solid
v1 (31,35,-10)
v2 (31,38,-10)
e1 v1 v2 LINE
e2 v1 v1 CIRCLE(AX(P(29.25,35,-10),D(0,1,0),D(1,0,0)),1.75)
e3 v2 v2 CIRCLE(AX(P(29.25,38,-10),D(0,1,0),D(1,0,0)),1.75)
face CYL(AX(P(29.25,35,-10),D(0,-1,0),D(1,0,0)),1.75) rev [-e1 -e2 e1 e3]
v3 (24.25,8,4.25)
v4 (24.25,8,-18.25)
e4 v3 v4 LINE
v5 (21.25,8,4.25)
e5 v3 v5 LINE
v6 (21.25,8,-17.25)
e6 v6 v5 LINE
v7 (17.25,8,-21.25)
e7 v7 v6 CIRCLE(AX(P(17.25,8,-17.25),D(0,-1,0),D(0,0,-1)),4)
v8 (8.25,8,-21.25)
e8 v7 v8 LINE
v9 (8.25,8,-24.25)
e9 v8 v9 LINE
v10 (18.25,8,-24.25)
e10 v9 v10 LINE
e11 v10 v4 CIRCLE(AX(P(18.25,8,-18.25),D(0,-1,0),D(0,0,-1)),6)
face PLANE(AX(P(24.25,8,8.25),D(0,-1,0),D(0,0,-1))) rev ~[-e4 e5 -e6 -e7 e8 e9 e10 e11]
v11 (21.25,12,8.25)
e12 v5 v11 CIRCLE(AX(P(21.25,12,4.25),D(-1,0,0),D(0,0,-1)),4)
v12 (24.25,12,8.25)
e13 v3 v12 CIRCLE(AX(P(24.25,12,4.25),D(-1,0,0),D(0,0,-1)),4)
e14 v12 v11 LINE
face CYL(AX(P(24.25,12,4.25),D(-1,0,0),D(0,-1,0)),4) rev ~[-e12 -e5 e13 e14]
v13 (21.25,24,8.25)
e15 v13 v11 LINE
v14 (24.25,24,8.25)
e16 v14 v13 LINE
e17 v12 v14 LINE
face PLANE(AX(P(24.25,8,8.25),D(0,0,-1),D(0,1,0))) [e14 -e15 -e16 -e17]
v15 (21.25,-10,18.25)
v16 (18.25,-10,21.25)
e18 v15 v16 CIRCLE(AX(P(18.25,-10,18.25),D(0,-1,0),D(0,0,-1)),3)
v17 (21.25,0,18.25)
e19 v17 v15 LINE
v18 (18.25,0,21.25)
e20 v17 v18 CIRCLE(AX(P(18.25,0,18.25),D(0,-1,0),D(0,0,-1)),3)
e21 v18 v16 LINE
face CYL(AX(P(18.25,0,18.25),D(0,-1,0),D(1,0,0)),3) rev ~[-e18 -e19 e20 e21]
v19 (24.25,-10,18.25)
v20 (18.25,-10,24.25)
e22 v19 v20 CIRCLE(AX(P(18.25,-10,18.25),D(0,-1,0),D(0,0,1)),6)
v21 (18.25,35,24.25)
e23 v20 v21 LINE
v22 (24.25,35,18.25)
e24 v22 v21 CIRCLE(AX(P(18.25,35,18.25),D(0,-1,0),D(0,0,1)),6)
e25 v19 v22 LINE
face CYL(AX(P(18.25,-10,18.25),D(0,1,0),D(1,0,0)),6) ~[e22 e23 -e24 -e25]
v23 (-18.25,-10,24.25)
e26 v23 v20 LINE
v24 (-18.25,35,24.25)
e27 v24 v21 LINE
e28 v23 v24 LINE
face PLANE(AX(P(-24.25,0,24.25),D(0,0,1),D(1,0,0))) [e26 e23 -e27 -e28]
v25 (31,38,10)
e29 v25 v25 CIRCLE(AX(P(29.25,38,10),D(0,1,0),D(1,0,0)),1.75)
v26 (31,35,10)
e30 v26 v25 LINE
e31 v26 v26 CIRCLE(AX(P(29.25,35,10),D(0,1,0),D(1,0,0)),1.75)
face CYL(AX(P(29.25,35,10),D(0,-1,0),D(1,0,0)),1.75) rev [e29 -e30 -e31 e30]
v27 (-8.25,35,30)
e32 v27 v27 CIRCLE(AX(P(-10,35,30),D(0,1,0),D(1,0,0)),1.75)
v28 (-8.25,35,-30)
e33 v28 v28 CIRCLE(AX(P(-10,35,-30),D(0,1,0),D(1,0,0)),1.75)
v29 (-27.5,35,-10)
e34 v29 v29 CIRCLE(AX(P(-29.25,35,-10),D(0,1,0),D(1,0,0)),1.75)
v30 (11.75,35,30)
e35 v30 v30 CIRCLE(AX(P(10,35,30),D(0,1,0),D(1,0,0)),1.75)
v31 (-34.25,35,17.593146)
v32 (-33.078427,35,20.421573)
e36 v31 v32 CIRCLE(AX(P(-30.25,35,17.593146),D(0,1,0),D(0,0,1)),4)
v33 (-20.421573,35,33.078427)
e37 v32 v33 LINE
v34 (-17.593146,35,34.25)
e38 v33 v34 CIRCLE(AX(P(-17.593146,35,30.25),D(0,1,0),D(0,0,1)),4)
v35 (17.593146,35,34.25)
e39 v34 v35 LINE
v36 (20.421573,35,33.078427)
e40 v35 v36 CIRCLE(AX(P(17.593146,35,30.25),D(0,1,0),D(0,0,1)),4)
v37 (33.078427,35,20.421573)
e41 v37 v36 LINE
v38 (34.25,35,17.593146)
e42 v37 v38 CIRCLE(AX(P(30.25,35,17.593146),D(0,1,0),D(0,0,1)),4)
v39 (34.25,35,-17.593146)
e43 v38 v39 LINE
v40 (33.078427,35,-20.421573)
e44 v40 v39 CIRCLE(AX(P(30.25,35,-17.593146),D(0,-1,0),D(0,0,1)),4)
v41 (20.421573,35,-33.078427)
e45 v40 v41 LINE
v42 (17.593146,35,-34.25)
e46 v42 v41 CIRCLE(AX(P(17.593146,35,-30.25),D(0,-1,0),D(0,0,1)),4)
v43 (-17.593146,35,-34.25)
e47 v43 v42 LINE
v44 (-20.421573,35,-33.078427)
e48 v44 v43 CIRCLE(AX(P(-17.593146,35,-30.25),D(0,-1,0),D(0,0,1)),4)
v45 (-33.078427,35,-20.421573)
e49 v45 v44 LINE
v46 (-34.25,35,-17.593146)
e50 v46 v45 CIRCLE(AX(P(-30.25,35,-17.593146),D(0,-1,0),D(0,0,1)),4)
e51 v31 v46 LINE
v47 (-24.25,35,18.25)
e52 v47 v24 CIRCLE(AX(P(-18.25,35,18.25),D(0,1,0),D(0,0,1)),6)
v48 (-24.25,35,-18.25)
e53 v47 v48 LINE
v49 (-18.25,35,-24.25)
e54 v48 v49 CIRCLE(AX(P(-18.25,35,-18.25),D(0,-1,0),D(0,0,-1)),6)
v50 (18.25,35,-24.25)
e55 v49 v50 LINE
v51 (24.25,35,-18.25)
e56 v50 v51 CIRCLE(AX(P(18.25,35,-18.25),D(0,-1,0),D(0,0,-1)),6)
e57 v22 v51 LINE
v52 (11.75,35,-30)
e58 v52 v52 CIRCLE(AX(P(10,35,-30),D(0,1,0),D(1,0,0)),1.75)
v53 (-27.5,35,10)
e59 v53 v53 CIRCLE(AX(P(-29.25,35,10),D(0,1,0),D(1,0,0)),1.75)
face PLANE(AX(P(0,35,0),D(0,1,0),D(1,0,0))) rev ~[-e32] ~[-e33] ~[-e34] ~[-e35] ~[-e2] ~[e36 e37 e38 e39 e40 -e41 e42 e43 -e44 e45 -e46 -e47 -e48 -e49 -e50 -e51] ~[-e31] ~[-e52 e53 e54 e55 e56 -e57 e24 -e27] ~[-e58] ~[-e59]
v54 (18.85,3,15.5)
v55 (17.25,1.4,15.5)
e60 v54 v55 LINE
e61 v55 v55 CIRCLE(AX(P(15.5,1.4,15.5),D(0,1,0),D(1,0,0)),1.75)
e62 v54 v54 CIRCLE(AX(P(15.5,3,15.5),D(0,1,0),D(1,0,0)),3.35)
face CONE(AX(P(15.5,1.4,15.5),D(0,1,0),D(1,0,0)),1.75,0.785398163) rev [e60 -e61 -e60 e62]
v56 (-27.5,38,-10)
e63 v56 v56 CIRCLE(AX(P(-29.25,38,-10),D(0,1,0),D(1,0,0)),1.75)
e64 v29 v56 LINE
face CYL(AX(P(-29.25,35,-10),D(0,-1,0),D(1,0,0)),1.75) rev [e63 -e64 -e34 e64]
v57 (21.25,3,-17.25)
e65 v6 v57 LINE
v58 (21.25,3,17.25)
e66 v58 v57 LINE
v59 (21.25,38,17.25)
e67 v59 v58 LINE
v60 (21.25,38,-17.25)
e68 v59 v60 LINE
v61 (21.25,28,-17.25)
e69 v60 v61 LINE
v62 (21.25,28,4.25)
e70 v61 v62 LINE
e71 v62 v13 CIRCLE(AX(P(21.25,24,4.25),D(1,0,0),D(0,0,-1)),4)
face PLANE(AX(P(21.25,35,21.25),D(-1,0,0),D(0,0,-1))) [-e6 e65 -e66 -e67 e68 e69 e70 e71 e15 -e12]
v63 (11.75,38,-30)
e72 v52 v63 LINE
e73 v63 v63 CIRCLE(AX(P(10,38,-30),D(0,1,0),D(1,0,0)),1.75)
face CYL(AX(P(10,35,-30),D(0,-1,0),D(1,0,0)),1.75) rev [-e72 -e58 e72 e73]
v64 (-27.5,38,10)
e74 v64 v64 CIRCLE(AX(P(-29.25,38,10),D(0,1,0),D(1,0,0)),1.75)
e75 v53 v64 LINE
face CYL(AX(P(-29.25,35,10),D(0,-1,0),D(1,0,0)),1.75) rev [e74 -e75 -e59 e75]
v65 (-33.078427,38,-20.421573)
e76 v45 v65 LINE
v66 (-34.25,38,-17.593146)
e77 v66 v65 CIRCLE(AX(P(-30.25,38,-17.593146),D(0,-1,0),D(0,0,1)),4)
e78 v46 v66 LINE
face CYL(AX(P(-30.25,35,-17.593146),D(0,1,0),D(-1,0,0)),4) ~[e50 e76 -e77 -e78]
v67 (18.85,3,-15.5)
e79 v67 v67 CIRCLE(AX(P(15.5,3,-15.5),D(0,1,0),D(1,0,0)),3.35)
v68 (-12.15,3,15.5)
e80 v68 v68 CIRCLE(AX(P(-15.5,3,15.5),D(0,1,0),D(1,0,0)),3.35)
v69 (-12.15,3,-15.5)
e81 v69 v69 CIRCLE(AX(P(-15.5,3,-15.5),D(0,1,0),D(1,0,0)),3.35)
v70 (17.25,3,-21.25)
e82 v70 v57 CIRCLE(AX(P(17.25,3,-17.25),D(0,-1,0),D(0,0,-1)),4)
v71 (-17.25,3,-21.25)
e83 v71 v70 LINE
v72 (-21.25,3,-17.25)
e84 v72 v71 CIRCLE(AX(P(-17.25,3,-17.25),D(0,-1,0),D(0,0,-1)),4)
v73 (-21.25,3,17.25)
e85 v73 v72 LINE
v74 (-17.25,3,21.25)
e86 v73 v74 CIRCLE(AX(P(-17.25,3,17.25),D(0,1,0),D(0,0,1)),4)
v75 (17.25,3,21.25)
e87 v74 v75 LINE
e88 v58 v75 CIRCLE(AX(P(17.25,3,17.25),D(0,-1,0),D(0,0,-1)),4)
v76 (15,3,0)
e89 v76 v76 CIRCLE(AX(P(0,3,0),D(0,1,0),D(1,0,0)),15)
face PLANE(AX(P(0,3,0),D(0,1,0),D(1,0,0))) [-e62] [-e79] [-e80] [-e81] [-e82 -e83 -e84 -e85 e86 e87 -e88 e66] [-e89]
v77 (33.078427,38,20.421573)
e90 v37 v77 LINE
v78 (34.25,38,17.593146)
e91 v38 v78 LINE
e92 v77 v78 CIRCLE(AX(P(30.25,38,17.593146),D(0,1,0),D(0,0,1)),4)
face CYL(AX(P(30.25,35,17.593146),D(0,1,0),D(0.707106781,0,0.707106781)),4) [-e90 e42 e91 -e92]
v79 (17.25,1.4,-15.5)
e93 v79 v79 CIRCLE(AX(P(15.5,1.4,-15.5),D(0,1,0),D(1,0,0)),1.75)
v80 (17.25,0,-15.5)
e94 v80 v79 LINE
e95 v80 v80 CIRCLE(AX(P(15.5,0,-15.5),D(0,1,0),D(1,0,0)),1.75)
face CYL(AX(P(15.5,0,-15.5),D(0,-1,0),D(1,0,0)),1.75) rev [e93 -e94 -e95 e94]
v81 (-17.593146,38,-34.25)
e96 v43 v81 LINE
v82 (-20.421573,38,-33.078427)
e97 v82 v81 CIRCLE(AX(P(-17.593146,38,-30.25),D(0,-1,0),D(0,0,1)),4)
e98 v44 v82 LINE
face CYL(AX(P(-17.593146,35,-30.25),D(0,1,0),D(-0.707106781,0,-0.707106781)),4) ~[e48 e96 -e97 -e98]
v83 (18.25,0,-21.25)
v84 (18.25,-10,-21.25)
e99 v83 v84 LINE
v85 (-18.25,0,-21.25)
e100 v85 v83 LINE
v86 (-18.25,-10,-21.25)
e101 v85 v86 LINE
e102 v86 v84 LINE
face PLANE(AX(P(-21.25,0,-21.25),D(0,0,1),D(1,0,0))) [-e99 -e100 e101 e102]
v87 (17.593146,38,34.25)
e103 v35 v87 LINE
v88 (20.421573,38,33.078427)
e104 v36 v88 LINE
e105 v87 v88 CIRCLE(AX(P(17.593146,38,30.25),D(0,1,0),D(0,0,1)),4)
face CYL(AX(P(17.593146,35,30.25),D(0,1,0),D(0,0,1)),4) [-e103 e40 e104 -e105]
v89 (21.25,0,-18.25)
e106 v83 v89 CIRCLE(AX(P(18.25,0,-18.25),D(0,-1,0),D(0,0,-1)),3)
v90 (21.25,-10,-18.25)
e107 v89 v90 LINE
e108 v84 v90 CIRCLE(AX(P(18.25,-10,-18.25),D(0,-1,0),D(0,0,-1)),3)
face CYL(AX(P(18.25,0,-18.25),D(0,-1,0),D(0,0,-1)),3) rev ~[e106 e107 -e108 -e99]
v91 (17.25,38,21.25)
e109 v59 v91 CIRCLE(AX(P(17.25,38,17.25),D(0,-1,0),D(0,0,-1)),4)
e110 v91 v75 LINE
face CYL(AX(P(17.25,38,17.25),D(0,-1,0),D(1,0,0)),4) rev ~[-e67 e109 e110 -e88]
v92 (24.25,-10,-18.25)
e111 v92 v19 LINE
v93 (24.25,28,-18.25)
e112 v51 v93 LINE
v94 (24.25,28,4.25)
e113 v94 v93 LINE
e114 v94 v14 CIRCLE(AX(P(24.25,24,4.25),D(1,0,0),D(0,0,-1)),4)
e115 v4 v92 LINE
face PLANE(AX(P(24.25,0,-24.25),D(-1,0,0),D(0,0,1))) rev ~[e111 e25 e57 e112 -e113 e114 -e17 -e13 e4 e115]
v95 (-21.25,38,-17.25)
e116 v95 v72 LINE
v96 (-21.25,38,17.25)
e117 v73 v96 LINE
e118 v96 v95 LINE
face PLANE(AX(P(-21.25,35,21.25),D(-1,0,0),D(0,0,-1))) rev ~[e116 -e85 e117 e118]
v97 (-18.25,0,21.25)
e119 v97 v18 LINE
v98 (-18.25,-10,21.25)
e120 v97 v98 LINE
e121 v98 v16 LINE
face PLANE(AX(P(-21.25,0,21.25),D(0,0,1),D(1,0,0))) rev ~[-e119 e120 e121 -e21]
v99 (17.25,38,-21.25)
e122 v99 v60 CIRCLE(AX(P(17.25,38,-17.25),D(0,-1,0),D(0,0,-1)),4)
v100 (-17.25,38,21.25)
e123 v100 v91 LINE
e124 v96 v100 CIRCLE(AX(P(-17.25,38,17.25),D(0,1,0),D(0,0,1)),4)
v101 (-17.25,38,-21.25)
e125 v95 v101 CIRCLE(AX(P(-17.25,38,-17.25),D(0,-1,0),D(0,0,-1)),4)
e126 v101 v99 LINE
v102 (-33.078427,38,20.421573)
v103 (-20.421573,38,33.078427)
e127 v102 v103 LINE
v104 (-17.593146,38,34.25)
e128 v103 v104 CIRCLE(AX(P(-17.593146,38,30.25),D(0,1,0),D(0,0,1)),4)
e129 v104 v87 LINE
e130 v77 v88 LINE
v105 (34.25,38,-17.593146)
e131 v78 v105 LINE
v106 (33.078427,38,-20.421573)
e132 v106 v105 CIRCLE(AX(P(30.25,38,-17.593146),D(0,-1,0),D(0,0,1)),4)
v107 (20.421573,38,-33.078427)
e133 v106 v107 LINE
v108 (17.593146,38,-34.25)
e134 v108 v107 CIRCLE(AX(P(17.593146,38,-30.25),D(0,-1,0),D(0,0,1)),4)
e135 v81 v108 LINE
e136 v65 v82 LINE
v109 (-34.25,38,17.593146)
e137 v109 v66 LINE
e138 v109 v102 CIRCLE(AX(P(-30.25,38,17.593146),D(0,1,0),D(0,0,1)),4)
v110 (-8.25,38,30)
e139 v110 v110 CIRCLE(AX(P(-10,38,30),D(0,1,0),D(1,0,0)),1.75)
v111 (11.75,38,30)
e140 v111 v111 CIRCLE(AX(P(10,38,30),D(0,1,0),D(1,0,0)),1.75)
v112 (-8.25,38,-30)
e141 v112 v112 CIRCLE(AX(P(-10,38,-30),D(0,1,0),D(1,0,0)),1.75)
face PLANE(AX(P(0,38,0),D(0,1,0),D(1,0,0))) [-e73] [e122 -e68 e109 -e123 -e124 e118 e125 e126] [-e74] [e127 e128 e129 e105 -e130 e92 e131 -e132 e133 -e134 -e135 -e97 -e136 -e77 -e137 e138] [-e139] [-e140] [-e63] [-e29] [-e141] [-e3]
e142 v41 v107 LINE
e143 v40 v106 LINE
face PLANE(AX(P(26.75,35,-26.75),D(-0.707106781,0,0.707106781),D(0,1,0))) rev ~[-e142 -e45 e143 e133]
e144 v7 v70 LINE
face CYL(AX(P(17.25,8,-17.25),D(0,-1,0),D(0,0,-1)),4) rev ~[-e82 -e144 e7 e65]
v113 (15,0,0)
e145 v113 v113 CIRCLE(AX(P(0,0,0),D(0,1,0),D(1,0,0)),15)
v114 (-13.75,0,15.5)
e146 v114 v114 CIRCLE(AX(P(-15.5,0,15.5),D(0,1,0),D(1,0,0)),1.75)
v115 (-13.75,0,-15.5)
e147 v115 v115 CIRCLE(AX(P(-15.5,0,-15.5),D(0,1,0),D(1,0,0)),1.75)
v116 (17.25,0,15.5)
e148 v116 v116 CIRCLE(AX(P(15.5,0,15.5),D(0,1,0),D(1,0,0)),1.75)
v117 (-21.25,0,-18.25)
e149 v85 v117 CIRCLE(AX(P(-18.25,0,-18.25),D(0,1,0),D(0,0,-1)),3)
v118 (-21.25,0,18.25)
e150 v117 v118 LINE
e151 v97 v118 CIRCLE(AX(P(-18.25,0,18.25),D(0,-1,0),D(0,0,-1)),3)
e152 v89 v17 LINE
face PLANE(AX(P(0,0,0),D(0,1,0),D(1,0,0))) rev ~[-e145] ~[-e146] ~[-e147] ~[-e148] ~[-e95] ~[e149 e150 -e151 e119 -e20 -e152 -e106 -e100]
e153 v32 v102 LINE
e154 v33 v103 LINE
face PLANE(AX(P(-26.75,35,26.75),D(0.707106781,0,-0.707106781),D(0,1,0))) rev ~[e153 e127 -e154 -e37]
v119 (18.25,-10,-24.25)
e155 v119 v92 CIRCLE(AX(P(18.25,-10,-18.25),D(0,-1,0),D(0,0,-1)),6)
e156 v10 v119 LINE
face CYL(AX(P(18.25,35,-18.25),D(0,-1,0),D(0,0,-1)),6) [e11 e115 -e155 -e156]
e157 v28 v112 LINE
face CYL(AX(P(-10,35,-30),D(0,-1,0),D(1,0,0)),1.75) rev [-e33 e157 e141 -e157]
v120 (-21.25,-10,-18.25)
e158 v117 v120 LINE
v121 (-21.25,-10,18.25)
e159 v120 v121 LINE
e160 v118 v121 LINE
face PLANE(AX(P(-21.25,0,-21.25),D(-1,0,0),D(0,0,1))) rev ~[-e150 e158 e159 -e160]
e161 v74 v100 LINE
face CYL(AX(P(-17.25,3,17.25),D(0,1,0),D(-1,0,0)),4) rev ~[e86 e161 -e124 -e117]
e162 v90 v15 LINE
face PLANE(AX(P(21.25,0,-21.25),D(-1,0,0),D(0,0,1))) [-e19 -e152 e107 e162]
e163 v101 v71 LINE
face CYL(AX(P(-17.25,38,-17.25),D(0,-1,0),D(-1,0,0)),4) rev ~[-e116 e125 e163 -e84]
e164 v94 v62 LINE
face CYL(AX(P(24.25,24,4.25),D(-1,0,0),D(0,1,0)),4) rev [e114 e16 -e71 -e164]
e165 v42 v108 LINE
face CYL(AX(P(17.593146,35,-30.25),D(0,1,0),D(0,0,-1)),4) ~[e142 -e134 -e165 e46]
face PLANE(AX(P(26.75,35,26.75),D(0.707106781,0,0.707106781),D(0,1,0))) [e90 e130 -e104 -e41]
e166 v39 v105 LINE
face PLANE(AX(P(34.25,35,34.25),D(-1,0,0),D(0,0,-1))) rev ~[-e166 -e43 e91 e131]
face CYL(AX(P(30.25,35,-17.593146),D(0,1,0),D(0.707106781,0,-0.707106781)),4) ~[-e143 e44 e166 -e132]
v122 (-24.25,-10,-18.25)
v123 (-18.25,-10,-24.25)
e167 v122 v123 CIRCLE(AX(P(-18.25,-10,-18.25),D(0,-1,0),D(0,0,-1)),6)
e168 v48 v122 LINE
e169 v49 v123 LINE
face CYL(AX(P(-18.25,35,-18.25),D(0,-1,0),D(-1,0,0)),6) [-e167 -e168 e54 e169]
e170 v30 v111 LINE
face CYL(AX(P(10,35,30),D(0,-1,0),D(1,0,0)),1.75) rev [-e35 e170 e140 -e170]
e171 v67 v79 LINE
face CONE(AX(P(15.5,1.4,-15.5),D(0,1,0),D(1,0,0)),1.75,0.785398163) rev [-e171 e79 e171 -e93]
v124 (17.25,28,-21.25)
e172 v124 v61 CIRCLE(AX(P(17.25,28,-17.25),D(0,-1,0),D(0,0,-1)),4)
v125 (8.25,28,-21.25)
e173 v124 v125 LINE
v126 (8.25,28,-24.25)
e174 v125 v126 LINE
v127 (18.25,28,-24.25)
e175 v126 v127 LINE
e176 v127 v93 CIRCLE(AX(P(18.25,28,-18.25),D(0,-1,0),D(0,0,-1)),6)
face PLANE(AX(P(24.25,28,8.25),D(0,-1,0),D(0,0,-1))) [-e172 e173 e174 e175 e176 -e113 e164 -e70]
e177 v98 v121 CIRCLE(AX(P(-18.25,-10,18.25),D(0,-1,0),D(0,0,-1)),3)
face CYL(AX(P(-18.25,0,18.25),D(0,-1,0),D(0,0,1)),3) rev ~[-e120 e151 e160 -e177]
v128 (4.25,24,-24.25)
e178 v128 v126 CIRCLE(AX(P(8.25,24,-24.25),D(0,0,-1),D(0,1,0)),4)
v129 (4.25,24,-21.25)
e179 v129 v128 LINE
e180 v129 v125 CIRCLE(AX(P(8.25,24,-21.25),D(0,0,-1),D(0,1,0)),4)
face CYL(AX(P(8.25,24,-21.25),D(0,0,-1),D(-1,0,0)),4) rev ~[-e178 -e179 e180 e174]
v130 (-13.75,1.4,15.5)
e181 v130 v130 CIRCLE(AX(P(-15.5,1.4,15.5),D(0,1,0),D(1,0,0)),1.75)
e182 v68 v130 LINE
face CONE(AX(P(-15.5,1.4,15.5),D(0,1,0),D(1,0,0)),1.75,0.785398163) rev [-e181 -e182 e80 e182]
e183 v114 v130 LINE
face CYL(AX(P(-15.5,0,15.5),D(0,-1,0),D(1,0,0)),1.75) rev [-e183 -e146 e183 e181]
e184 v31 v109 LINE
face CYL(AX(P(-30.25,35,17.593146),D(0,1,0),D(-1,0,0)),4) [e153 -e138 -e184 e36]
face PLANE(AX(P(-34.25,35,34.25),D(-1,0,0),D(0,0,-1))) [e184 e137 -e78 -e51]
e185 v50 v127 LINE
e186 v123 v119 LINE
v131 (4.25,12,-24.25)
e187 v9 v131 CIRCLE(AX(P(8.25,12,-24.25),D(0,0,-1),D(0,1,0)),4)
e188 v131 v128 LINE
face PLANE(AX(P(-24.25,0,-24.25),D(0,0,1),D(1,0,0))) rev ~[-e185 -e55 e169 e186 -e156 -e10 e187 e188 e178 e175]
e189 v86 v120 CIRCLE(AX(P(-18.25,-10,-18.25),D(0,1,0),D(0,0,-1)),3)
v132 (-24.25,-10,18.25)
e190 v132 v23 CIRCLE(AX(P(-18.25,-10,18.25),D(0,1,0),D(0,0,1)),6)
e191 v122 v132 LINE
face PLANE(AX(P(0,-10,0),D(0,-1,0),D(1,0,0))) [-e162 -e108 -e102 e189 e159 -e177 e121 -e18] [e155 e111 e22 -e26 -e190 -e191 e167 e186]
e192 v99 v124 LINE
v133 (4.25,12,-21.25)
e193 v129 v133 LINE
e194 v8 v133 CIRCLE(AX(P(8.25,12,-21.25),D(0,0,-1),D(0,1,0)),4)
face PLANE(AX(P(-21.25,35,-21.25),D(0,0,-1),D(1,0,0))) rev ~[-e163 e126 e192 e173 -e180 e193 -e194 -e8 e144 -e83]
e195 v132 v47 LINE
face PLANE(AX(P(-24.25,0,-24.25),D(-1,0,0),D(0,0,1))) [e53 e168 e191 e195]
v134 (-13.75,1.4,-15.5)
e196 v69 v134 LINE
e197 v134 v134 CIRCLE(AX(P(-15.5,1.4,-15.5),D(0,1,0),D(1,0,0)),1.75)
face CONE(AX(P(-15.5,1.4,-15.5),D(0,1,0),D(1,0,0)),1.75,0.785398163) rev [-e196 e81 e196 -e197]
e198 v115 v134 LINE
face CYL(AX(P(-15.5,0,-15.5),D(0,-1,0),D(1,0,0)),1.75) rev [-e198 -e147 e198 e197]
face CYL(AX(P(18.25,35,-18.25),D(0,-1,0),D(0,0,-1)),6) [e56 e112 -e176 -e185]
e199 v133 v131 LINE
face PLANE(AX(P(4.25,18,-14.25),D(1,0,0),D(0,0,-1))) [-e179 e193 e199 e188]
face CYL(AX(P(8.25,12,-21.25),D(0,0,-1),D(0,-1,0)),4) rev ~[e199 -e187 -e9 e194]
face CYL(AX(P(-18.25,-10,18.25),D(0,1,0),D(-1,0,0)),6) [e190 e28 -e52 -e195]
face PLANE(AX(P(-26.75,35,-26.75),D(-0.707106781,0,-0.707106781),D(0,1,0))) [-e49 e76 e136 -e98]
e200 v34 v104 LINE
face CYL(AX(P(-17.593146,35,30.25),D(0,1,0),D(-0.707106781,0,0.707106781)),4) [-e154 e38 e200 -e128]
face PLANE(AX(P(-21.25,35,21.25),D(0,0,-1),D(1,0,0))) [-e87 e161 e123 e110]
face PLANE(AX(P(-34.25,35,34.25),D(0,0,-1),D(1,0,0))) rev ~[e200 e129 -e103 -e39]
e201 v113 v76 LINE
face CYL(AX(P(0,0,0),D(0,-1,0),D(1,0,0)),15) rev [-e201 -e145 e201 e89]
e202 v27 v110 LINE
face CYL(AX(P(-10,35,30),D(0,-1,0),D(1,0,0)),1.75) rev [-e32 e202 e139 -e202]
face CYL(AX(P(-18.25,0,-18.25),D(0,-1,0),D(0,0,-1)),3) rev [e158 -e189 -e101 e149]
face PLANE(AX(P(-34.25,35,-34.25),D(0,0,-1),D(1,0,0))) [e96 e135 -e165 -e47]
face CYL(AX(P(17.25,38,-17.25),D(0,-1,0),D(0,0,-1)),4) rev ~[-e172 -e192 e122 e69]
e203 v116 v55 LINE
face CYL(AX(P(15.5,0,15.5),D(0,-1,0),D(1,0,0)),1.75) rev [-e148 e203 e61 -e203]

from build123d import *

# Parameters (mm, degrees)
SKETCH2_W           = 48.5
SKETCH2_H           = 48.5
SKETCH2_R           = 15
SKETCH2_R_2         = 1.75
BOSS_EXTRUDE1_DEPTH = 3
SKETCH3_W           = 48.5
SKETCH3_H           = 48.5
SKETCH3_W_2         = 42.5
SKETCH3_H_2         = 42.5
BOSS_EXTRUDE2_DEPTH = 32
SKETCH4_W           = 68.5
SKETCH4_H           = 68.5
SKETCH4_R           = 1.75
SKETCH4_W_2         = 42.5
SKETCH4_H_2         = 42.5
BOSS_EXTRUDE3_DEPTH = 3
CHAMFER1_SIZE       = 15
SKETCH5_W           = 48.5
SKETCH5_H           = 48.5
SKETCH5_W_2         = 42.5
SKETCH5_H_2         = 42.5
BOSS_EXTRUDE4_DEPTH = 10
FILLET1_R           = 6
SKETCH7_W           = 45
SKETCH7_H           = 20
CUT_EXTRUDE2_DEPTH  = 20
FILLET2_R           = 4
CHAMFER2_SIZE       = 1.6
FILLET4_R           = 4
FILLET5_R           = 4
FILLET6_R           = 3


with BuildPart() as part:
    # Sketch2 → Boss-Extrude1 (new body)
    with BuildSketch(Plane(origin=(0, 0, 0), x_dir=(1, 0, 0), z_dir=(0, 1, 0))):
        Rectangle(SKETCH2_W, SKETCH2_H)
        Circle(SKETCH2_R, mode=Mode.SUBTRACT)
        with Locations((-15.5, 15.5)):
            Circle(SKETCH2_R_2, mode=Mode.SUBTRACT)
        with Locations((15.5, 15.5)):
            Circle(SKETCH2_R_2, mode=Mode.SUBTRACT)
        with Locations((15.5, -15.5)):
            Circle(SKETCH2_R_2, mode=Mode.SUBTRACT)
        with Locations((-15.5, -15.5)):
            Circle(SKETCH2_R_2, mode=Mode.SUBTRACT)
    extrude(amount=BOSS_EXTRUDE1_DEPTH)

    # Sketch3 → Boss-Extrude2 (add)
    with BuildSketch(Plane(origin=(0, 3, 0), x_dir=(1, 0, 0), z_dir=(0, 1, 0))):
        Rectangle(SKETCH3_W, SKETCH3_H)
        Rectangle(SKETCH3_W_2, SKETCH3_H_2, mode=Mode.SUBTRACT)
    extrude(amount=BOSS_EXTRUDE2_DEPTH)

    # Sketch4 → Boss-Extrude3 (add)
    with BuildSketch(Plane(origin=(0, 35, 0), x_dir=(1, 0, 0), z_dir=(0, 1, 0))):
        Rectangle(SKETCH4_W, SKETCH4_H)
        with Locations((-10, 30)):
            Circle(SKETCH4_R, mode=Mode.SUBTRACT)
        with Locations((10, 30)):
            Circle(SKETCH4_R, mode=Mode.SUBTRACT)
        with Locations((-29.25, 10)):
            Circle(SKETCH4_R, mode=Mode.SUBTRACT)
        with Locations((-29.25, -10)):
            Circle(SKETCH4_R, mode=Mode.SUBTRACT)
        with Locations((-10, -30)):
            Circle(SKETCH4_R, mode=Mode.SUBTRACT)
        with Locations((10, -30)):
            Circle(SKETCH4_R, mode=Mode.SUBTRACT)
        with Locations((29.25, -10)):
            Circle(SKETCH4_R, mode=Mode.SUBTRACT)
        with Locations((29.25, 10)):
            Circle(SKETCH4_R, mode=Mode.SUBTRACT)
        Rectangle(SKETCH4_W_2, SKETCH4_H_2, mode=Mode.SUBTRACT)
    extrude(amount=BOSS_EXTRUDE3_DEPTH)

    # Chamfer1
    chamfer1_edges = [part.edges().sort_by_distance(p)[0] for p in [
        (-34.25, 36.5, 34.25),
        (34.25, 36.5, 34.25),
        (34.25, 36.5, -34.25),
        (-34.25, 36.5, -34.25),
    ]]
    chamfer(chamfer1_edges, length=CHAMFER1_SIZE)

    # Sketch5 → Boss-Extrude4 (add)
    with BuildSketch(Plane.XZ):
        Rectangle(SKETCH5_W, SKETCH5_H)
        Rectangle(SKETCH5_W_2, SKETCH5_H_2, mode=Mode.SUBTRACT)
    extrude(amount=BOSS_EXTRUDE4_DEPTH)

    # Fillet1
    fillet1_edges = [part.edges().sort_by_distance(p)[0] for p in [
        (-24.25, 12.5, -24.25),
        (24.25, 12.5, -24.25),
        (24.25, 12.5, 24.25),
        (-24.25, 12.5, 24.25),
    ]]
    fillet(fillet1_edges, radius=FILLET1_R)

    # Sketch7 → Cut-Extrude2 (cut)
    with BuildSketch(Plane(origin=(24.25, 0, 0), x_dir=(0, 0, -1), z_dir=(1, 0, 0))):
        with Locations((14.25, 18)):
            Rectangle(SKETCH7_W, SKETCH7_H)
    extrude(amount=-CUT_EXTRUDE2_DEPTH, mode=Mode.SUBTRACT)

    # Fillet2
    fillet2_edges = [part.edges().sort_by_distance(p)[0] for p in [
        (-19.25, 36.5, 34.25),
        (19.25, 36.5, 34.25),
        (-19.25, 36.5, -34.25),
        (19.25, 36.5, -34.25),
        (-34.25, 36.5, 19.25),
        (-34.25, 36.5, -19.25),
        (34.25, 36.5, -19.25),
        (34.25, 36.5, 19.25),
    ]]
    fillet(fillet2_edges, radius=FILLET2_R)

    # Chamfer2
    chamfer2_edges = [part.edges().sort_by_distance(p)[0] for p in [
        (-17.25, 3, -15.5),
        (13.75, 3, -15.5),
        (13.75, 3, 15.5),
        (-17.25, 3, 15.5),
    ]]
    chamfer(chamfer2_edges, length=CHAMFER2_SIZE)

    # Fillet4
    fillet4_edges = [part.edges().sort_by_distance(p)[0] for p in [
        (21.25, 5.5, -21.25),
        (21.25, 33, -21.25),
        (-21.25, 20.5, -21.25),
        (-21.25, 20.5, 21.25),
        (21.25, 20.5, 21.25),
    ]]
    fillet(fillet4_edges, radius=FILLET4_R)

    # Fillet5
    fillet5_edges = [part.edges().sort_by_distance(p)[0] for p in [
        (4.25, 8, -22.75),
        (22.75, 28, 8.25),
        (4.25, 28, -22.75),
        (22.75, 8, 8.25),
    ]]
    fillet(fillet5_edges, radius=FILLET5_R)

    # Fillet6
    fillet6_edges = [part.edges().sort_by_distance(p)[0] for p in [
        (21.25, -5, 21.25),
        (-21.25, -5, 21.25),
        (-21.25, -5, -21.25),
        (21.25, -5, -21.25),
    ]]
    fillet(fillet6_edges, radius=FILLET6_R)


solid = part.part
